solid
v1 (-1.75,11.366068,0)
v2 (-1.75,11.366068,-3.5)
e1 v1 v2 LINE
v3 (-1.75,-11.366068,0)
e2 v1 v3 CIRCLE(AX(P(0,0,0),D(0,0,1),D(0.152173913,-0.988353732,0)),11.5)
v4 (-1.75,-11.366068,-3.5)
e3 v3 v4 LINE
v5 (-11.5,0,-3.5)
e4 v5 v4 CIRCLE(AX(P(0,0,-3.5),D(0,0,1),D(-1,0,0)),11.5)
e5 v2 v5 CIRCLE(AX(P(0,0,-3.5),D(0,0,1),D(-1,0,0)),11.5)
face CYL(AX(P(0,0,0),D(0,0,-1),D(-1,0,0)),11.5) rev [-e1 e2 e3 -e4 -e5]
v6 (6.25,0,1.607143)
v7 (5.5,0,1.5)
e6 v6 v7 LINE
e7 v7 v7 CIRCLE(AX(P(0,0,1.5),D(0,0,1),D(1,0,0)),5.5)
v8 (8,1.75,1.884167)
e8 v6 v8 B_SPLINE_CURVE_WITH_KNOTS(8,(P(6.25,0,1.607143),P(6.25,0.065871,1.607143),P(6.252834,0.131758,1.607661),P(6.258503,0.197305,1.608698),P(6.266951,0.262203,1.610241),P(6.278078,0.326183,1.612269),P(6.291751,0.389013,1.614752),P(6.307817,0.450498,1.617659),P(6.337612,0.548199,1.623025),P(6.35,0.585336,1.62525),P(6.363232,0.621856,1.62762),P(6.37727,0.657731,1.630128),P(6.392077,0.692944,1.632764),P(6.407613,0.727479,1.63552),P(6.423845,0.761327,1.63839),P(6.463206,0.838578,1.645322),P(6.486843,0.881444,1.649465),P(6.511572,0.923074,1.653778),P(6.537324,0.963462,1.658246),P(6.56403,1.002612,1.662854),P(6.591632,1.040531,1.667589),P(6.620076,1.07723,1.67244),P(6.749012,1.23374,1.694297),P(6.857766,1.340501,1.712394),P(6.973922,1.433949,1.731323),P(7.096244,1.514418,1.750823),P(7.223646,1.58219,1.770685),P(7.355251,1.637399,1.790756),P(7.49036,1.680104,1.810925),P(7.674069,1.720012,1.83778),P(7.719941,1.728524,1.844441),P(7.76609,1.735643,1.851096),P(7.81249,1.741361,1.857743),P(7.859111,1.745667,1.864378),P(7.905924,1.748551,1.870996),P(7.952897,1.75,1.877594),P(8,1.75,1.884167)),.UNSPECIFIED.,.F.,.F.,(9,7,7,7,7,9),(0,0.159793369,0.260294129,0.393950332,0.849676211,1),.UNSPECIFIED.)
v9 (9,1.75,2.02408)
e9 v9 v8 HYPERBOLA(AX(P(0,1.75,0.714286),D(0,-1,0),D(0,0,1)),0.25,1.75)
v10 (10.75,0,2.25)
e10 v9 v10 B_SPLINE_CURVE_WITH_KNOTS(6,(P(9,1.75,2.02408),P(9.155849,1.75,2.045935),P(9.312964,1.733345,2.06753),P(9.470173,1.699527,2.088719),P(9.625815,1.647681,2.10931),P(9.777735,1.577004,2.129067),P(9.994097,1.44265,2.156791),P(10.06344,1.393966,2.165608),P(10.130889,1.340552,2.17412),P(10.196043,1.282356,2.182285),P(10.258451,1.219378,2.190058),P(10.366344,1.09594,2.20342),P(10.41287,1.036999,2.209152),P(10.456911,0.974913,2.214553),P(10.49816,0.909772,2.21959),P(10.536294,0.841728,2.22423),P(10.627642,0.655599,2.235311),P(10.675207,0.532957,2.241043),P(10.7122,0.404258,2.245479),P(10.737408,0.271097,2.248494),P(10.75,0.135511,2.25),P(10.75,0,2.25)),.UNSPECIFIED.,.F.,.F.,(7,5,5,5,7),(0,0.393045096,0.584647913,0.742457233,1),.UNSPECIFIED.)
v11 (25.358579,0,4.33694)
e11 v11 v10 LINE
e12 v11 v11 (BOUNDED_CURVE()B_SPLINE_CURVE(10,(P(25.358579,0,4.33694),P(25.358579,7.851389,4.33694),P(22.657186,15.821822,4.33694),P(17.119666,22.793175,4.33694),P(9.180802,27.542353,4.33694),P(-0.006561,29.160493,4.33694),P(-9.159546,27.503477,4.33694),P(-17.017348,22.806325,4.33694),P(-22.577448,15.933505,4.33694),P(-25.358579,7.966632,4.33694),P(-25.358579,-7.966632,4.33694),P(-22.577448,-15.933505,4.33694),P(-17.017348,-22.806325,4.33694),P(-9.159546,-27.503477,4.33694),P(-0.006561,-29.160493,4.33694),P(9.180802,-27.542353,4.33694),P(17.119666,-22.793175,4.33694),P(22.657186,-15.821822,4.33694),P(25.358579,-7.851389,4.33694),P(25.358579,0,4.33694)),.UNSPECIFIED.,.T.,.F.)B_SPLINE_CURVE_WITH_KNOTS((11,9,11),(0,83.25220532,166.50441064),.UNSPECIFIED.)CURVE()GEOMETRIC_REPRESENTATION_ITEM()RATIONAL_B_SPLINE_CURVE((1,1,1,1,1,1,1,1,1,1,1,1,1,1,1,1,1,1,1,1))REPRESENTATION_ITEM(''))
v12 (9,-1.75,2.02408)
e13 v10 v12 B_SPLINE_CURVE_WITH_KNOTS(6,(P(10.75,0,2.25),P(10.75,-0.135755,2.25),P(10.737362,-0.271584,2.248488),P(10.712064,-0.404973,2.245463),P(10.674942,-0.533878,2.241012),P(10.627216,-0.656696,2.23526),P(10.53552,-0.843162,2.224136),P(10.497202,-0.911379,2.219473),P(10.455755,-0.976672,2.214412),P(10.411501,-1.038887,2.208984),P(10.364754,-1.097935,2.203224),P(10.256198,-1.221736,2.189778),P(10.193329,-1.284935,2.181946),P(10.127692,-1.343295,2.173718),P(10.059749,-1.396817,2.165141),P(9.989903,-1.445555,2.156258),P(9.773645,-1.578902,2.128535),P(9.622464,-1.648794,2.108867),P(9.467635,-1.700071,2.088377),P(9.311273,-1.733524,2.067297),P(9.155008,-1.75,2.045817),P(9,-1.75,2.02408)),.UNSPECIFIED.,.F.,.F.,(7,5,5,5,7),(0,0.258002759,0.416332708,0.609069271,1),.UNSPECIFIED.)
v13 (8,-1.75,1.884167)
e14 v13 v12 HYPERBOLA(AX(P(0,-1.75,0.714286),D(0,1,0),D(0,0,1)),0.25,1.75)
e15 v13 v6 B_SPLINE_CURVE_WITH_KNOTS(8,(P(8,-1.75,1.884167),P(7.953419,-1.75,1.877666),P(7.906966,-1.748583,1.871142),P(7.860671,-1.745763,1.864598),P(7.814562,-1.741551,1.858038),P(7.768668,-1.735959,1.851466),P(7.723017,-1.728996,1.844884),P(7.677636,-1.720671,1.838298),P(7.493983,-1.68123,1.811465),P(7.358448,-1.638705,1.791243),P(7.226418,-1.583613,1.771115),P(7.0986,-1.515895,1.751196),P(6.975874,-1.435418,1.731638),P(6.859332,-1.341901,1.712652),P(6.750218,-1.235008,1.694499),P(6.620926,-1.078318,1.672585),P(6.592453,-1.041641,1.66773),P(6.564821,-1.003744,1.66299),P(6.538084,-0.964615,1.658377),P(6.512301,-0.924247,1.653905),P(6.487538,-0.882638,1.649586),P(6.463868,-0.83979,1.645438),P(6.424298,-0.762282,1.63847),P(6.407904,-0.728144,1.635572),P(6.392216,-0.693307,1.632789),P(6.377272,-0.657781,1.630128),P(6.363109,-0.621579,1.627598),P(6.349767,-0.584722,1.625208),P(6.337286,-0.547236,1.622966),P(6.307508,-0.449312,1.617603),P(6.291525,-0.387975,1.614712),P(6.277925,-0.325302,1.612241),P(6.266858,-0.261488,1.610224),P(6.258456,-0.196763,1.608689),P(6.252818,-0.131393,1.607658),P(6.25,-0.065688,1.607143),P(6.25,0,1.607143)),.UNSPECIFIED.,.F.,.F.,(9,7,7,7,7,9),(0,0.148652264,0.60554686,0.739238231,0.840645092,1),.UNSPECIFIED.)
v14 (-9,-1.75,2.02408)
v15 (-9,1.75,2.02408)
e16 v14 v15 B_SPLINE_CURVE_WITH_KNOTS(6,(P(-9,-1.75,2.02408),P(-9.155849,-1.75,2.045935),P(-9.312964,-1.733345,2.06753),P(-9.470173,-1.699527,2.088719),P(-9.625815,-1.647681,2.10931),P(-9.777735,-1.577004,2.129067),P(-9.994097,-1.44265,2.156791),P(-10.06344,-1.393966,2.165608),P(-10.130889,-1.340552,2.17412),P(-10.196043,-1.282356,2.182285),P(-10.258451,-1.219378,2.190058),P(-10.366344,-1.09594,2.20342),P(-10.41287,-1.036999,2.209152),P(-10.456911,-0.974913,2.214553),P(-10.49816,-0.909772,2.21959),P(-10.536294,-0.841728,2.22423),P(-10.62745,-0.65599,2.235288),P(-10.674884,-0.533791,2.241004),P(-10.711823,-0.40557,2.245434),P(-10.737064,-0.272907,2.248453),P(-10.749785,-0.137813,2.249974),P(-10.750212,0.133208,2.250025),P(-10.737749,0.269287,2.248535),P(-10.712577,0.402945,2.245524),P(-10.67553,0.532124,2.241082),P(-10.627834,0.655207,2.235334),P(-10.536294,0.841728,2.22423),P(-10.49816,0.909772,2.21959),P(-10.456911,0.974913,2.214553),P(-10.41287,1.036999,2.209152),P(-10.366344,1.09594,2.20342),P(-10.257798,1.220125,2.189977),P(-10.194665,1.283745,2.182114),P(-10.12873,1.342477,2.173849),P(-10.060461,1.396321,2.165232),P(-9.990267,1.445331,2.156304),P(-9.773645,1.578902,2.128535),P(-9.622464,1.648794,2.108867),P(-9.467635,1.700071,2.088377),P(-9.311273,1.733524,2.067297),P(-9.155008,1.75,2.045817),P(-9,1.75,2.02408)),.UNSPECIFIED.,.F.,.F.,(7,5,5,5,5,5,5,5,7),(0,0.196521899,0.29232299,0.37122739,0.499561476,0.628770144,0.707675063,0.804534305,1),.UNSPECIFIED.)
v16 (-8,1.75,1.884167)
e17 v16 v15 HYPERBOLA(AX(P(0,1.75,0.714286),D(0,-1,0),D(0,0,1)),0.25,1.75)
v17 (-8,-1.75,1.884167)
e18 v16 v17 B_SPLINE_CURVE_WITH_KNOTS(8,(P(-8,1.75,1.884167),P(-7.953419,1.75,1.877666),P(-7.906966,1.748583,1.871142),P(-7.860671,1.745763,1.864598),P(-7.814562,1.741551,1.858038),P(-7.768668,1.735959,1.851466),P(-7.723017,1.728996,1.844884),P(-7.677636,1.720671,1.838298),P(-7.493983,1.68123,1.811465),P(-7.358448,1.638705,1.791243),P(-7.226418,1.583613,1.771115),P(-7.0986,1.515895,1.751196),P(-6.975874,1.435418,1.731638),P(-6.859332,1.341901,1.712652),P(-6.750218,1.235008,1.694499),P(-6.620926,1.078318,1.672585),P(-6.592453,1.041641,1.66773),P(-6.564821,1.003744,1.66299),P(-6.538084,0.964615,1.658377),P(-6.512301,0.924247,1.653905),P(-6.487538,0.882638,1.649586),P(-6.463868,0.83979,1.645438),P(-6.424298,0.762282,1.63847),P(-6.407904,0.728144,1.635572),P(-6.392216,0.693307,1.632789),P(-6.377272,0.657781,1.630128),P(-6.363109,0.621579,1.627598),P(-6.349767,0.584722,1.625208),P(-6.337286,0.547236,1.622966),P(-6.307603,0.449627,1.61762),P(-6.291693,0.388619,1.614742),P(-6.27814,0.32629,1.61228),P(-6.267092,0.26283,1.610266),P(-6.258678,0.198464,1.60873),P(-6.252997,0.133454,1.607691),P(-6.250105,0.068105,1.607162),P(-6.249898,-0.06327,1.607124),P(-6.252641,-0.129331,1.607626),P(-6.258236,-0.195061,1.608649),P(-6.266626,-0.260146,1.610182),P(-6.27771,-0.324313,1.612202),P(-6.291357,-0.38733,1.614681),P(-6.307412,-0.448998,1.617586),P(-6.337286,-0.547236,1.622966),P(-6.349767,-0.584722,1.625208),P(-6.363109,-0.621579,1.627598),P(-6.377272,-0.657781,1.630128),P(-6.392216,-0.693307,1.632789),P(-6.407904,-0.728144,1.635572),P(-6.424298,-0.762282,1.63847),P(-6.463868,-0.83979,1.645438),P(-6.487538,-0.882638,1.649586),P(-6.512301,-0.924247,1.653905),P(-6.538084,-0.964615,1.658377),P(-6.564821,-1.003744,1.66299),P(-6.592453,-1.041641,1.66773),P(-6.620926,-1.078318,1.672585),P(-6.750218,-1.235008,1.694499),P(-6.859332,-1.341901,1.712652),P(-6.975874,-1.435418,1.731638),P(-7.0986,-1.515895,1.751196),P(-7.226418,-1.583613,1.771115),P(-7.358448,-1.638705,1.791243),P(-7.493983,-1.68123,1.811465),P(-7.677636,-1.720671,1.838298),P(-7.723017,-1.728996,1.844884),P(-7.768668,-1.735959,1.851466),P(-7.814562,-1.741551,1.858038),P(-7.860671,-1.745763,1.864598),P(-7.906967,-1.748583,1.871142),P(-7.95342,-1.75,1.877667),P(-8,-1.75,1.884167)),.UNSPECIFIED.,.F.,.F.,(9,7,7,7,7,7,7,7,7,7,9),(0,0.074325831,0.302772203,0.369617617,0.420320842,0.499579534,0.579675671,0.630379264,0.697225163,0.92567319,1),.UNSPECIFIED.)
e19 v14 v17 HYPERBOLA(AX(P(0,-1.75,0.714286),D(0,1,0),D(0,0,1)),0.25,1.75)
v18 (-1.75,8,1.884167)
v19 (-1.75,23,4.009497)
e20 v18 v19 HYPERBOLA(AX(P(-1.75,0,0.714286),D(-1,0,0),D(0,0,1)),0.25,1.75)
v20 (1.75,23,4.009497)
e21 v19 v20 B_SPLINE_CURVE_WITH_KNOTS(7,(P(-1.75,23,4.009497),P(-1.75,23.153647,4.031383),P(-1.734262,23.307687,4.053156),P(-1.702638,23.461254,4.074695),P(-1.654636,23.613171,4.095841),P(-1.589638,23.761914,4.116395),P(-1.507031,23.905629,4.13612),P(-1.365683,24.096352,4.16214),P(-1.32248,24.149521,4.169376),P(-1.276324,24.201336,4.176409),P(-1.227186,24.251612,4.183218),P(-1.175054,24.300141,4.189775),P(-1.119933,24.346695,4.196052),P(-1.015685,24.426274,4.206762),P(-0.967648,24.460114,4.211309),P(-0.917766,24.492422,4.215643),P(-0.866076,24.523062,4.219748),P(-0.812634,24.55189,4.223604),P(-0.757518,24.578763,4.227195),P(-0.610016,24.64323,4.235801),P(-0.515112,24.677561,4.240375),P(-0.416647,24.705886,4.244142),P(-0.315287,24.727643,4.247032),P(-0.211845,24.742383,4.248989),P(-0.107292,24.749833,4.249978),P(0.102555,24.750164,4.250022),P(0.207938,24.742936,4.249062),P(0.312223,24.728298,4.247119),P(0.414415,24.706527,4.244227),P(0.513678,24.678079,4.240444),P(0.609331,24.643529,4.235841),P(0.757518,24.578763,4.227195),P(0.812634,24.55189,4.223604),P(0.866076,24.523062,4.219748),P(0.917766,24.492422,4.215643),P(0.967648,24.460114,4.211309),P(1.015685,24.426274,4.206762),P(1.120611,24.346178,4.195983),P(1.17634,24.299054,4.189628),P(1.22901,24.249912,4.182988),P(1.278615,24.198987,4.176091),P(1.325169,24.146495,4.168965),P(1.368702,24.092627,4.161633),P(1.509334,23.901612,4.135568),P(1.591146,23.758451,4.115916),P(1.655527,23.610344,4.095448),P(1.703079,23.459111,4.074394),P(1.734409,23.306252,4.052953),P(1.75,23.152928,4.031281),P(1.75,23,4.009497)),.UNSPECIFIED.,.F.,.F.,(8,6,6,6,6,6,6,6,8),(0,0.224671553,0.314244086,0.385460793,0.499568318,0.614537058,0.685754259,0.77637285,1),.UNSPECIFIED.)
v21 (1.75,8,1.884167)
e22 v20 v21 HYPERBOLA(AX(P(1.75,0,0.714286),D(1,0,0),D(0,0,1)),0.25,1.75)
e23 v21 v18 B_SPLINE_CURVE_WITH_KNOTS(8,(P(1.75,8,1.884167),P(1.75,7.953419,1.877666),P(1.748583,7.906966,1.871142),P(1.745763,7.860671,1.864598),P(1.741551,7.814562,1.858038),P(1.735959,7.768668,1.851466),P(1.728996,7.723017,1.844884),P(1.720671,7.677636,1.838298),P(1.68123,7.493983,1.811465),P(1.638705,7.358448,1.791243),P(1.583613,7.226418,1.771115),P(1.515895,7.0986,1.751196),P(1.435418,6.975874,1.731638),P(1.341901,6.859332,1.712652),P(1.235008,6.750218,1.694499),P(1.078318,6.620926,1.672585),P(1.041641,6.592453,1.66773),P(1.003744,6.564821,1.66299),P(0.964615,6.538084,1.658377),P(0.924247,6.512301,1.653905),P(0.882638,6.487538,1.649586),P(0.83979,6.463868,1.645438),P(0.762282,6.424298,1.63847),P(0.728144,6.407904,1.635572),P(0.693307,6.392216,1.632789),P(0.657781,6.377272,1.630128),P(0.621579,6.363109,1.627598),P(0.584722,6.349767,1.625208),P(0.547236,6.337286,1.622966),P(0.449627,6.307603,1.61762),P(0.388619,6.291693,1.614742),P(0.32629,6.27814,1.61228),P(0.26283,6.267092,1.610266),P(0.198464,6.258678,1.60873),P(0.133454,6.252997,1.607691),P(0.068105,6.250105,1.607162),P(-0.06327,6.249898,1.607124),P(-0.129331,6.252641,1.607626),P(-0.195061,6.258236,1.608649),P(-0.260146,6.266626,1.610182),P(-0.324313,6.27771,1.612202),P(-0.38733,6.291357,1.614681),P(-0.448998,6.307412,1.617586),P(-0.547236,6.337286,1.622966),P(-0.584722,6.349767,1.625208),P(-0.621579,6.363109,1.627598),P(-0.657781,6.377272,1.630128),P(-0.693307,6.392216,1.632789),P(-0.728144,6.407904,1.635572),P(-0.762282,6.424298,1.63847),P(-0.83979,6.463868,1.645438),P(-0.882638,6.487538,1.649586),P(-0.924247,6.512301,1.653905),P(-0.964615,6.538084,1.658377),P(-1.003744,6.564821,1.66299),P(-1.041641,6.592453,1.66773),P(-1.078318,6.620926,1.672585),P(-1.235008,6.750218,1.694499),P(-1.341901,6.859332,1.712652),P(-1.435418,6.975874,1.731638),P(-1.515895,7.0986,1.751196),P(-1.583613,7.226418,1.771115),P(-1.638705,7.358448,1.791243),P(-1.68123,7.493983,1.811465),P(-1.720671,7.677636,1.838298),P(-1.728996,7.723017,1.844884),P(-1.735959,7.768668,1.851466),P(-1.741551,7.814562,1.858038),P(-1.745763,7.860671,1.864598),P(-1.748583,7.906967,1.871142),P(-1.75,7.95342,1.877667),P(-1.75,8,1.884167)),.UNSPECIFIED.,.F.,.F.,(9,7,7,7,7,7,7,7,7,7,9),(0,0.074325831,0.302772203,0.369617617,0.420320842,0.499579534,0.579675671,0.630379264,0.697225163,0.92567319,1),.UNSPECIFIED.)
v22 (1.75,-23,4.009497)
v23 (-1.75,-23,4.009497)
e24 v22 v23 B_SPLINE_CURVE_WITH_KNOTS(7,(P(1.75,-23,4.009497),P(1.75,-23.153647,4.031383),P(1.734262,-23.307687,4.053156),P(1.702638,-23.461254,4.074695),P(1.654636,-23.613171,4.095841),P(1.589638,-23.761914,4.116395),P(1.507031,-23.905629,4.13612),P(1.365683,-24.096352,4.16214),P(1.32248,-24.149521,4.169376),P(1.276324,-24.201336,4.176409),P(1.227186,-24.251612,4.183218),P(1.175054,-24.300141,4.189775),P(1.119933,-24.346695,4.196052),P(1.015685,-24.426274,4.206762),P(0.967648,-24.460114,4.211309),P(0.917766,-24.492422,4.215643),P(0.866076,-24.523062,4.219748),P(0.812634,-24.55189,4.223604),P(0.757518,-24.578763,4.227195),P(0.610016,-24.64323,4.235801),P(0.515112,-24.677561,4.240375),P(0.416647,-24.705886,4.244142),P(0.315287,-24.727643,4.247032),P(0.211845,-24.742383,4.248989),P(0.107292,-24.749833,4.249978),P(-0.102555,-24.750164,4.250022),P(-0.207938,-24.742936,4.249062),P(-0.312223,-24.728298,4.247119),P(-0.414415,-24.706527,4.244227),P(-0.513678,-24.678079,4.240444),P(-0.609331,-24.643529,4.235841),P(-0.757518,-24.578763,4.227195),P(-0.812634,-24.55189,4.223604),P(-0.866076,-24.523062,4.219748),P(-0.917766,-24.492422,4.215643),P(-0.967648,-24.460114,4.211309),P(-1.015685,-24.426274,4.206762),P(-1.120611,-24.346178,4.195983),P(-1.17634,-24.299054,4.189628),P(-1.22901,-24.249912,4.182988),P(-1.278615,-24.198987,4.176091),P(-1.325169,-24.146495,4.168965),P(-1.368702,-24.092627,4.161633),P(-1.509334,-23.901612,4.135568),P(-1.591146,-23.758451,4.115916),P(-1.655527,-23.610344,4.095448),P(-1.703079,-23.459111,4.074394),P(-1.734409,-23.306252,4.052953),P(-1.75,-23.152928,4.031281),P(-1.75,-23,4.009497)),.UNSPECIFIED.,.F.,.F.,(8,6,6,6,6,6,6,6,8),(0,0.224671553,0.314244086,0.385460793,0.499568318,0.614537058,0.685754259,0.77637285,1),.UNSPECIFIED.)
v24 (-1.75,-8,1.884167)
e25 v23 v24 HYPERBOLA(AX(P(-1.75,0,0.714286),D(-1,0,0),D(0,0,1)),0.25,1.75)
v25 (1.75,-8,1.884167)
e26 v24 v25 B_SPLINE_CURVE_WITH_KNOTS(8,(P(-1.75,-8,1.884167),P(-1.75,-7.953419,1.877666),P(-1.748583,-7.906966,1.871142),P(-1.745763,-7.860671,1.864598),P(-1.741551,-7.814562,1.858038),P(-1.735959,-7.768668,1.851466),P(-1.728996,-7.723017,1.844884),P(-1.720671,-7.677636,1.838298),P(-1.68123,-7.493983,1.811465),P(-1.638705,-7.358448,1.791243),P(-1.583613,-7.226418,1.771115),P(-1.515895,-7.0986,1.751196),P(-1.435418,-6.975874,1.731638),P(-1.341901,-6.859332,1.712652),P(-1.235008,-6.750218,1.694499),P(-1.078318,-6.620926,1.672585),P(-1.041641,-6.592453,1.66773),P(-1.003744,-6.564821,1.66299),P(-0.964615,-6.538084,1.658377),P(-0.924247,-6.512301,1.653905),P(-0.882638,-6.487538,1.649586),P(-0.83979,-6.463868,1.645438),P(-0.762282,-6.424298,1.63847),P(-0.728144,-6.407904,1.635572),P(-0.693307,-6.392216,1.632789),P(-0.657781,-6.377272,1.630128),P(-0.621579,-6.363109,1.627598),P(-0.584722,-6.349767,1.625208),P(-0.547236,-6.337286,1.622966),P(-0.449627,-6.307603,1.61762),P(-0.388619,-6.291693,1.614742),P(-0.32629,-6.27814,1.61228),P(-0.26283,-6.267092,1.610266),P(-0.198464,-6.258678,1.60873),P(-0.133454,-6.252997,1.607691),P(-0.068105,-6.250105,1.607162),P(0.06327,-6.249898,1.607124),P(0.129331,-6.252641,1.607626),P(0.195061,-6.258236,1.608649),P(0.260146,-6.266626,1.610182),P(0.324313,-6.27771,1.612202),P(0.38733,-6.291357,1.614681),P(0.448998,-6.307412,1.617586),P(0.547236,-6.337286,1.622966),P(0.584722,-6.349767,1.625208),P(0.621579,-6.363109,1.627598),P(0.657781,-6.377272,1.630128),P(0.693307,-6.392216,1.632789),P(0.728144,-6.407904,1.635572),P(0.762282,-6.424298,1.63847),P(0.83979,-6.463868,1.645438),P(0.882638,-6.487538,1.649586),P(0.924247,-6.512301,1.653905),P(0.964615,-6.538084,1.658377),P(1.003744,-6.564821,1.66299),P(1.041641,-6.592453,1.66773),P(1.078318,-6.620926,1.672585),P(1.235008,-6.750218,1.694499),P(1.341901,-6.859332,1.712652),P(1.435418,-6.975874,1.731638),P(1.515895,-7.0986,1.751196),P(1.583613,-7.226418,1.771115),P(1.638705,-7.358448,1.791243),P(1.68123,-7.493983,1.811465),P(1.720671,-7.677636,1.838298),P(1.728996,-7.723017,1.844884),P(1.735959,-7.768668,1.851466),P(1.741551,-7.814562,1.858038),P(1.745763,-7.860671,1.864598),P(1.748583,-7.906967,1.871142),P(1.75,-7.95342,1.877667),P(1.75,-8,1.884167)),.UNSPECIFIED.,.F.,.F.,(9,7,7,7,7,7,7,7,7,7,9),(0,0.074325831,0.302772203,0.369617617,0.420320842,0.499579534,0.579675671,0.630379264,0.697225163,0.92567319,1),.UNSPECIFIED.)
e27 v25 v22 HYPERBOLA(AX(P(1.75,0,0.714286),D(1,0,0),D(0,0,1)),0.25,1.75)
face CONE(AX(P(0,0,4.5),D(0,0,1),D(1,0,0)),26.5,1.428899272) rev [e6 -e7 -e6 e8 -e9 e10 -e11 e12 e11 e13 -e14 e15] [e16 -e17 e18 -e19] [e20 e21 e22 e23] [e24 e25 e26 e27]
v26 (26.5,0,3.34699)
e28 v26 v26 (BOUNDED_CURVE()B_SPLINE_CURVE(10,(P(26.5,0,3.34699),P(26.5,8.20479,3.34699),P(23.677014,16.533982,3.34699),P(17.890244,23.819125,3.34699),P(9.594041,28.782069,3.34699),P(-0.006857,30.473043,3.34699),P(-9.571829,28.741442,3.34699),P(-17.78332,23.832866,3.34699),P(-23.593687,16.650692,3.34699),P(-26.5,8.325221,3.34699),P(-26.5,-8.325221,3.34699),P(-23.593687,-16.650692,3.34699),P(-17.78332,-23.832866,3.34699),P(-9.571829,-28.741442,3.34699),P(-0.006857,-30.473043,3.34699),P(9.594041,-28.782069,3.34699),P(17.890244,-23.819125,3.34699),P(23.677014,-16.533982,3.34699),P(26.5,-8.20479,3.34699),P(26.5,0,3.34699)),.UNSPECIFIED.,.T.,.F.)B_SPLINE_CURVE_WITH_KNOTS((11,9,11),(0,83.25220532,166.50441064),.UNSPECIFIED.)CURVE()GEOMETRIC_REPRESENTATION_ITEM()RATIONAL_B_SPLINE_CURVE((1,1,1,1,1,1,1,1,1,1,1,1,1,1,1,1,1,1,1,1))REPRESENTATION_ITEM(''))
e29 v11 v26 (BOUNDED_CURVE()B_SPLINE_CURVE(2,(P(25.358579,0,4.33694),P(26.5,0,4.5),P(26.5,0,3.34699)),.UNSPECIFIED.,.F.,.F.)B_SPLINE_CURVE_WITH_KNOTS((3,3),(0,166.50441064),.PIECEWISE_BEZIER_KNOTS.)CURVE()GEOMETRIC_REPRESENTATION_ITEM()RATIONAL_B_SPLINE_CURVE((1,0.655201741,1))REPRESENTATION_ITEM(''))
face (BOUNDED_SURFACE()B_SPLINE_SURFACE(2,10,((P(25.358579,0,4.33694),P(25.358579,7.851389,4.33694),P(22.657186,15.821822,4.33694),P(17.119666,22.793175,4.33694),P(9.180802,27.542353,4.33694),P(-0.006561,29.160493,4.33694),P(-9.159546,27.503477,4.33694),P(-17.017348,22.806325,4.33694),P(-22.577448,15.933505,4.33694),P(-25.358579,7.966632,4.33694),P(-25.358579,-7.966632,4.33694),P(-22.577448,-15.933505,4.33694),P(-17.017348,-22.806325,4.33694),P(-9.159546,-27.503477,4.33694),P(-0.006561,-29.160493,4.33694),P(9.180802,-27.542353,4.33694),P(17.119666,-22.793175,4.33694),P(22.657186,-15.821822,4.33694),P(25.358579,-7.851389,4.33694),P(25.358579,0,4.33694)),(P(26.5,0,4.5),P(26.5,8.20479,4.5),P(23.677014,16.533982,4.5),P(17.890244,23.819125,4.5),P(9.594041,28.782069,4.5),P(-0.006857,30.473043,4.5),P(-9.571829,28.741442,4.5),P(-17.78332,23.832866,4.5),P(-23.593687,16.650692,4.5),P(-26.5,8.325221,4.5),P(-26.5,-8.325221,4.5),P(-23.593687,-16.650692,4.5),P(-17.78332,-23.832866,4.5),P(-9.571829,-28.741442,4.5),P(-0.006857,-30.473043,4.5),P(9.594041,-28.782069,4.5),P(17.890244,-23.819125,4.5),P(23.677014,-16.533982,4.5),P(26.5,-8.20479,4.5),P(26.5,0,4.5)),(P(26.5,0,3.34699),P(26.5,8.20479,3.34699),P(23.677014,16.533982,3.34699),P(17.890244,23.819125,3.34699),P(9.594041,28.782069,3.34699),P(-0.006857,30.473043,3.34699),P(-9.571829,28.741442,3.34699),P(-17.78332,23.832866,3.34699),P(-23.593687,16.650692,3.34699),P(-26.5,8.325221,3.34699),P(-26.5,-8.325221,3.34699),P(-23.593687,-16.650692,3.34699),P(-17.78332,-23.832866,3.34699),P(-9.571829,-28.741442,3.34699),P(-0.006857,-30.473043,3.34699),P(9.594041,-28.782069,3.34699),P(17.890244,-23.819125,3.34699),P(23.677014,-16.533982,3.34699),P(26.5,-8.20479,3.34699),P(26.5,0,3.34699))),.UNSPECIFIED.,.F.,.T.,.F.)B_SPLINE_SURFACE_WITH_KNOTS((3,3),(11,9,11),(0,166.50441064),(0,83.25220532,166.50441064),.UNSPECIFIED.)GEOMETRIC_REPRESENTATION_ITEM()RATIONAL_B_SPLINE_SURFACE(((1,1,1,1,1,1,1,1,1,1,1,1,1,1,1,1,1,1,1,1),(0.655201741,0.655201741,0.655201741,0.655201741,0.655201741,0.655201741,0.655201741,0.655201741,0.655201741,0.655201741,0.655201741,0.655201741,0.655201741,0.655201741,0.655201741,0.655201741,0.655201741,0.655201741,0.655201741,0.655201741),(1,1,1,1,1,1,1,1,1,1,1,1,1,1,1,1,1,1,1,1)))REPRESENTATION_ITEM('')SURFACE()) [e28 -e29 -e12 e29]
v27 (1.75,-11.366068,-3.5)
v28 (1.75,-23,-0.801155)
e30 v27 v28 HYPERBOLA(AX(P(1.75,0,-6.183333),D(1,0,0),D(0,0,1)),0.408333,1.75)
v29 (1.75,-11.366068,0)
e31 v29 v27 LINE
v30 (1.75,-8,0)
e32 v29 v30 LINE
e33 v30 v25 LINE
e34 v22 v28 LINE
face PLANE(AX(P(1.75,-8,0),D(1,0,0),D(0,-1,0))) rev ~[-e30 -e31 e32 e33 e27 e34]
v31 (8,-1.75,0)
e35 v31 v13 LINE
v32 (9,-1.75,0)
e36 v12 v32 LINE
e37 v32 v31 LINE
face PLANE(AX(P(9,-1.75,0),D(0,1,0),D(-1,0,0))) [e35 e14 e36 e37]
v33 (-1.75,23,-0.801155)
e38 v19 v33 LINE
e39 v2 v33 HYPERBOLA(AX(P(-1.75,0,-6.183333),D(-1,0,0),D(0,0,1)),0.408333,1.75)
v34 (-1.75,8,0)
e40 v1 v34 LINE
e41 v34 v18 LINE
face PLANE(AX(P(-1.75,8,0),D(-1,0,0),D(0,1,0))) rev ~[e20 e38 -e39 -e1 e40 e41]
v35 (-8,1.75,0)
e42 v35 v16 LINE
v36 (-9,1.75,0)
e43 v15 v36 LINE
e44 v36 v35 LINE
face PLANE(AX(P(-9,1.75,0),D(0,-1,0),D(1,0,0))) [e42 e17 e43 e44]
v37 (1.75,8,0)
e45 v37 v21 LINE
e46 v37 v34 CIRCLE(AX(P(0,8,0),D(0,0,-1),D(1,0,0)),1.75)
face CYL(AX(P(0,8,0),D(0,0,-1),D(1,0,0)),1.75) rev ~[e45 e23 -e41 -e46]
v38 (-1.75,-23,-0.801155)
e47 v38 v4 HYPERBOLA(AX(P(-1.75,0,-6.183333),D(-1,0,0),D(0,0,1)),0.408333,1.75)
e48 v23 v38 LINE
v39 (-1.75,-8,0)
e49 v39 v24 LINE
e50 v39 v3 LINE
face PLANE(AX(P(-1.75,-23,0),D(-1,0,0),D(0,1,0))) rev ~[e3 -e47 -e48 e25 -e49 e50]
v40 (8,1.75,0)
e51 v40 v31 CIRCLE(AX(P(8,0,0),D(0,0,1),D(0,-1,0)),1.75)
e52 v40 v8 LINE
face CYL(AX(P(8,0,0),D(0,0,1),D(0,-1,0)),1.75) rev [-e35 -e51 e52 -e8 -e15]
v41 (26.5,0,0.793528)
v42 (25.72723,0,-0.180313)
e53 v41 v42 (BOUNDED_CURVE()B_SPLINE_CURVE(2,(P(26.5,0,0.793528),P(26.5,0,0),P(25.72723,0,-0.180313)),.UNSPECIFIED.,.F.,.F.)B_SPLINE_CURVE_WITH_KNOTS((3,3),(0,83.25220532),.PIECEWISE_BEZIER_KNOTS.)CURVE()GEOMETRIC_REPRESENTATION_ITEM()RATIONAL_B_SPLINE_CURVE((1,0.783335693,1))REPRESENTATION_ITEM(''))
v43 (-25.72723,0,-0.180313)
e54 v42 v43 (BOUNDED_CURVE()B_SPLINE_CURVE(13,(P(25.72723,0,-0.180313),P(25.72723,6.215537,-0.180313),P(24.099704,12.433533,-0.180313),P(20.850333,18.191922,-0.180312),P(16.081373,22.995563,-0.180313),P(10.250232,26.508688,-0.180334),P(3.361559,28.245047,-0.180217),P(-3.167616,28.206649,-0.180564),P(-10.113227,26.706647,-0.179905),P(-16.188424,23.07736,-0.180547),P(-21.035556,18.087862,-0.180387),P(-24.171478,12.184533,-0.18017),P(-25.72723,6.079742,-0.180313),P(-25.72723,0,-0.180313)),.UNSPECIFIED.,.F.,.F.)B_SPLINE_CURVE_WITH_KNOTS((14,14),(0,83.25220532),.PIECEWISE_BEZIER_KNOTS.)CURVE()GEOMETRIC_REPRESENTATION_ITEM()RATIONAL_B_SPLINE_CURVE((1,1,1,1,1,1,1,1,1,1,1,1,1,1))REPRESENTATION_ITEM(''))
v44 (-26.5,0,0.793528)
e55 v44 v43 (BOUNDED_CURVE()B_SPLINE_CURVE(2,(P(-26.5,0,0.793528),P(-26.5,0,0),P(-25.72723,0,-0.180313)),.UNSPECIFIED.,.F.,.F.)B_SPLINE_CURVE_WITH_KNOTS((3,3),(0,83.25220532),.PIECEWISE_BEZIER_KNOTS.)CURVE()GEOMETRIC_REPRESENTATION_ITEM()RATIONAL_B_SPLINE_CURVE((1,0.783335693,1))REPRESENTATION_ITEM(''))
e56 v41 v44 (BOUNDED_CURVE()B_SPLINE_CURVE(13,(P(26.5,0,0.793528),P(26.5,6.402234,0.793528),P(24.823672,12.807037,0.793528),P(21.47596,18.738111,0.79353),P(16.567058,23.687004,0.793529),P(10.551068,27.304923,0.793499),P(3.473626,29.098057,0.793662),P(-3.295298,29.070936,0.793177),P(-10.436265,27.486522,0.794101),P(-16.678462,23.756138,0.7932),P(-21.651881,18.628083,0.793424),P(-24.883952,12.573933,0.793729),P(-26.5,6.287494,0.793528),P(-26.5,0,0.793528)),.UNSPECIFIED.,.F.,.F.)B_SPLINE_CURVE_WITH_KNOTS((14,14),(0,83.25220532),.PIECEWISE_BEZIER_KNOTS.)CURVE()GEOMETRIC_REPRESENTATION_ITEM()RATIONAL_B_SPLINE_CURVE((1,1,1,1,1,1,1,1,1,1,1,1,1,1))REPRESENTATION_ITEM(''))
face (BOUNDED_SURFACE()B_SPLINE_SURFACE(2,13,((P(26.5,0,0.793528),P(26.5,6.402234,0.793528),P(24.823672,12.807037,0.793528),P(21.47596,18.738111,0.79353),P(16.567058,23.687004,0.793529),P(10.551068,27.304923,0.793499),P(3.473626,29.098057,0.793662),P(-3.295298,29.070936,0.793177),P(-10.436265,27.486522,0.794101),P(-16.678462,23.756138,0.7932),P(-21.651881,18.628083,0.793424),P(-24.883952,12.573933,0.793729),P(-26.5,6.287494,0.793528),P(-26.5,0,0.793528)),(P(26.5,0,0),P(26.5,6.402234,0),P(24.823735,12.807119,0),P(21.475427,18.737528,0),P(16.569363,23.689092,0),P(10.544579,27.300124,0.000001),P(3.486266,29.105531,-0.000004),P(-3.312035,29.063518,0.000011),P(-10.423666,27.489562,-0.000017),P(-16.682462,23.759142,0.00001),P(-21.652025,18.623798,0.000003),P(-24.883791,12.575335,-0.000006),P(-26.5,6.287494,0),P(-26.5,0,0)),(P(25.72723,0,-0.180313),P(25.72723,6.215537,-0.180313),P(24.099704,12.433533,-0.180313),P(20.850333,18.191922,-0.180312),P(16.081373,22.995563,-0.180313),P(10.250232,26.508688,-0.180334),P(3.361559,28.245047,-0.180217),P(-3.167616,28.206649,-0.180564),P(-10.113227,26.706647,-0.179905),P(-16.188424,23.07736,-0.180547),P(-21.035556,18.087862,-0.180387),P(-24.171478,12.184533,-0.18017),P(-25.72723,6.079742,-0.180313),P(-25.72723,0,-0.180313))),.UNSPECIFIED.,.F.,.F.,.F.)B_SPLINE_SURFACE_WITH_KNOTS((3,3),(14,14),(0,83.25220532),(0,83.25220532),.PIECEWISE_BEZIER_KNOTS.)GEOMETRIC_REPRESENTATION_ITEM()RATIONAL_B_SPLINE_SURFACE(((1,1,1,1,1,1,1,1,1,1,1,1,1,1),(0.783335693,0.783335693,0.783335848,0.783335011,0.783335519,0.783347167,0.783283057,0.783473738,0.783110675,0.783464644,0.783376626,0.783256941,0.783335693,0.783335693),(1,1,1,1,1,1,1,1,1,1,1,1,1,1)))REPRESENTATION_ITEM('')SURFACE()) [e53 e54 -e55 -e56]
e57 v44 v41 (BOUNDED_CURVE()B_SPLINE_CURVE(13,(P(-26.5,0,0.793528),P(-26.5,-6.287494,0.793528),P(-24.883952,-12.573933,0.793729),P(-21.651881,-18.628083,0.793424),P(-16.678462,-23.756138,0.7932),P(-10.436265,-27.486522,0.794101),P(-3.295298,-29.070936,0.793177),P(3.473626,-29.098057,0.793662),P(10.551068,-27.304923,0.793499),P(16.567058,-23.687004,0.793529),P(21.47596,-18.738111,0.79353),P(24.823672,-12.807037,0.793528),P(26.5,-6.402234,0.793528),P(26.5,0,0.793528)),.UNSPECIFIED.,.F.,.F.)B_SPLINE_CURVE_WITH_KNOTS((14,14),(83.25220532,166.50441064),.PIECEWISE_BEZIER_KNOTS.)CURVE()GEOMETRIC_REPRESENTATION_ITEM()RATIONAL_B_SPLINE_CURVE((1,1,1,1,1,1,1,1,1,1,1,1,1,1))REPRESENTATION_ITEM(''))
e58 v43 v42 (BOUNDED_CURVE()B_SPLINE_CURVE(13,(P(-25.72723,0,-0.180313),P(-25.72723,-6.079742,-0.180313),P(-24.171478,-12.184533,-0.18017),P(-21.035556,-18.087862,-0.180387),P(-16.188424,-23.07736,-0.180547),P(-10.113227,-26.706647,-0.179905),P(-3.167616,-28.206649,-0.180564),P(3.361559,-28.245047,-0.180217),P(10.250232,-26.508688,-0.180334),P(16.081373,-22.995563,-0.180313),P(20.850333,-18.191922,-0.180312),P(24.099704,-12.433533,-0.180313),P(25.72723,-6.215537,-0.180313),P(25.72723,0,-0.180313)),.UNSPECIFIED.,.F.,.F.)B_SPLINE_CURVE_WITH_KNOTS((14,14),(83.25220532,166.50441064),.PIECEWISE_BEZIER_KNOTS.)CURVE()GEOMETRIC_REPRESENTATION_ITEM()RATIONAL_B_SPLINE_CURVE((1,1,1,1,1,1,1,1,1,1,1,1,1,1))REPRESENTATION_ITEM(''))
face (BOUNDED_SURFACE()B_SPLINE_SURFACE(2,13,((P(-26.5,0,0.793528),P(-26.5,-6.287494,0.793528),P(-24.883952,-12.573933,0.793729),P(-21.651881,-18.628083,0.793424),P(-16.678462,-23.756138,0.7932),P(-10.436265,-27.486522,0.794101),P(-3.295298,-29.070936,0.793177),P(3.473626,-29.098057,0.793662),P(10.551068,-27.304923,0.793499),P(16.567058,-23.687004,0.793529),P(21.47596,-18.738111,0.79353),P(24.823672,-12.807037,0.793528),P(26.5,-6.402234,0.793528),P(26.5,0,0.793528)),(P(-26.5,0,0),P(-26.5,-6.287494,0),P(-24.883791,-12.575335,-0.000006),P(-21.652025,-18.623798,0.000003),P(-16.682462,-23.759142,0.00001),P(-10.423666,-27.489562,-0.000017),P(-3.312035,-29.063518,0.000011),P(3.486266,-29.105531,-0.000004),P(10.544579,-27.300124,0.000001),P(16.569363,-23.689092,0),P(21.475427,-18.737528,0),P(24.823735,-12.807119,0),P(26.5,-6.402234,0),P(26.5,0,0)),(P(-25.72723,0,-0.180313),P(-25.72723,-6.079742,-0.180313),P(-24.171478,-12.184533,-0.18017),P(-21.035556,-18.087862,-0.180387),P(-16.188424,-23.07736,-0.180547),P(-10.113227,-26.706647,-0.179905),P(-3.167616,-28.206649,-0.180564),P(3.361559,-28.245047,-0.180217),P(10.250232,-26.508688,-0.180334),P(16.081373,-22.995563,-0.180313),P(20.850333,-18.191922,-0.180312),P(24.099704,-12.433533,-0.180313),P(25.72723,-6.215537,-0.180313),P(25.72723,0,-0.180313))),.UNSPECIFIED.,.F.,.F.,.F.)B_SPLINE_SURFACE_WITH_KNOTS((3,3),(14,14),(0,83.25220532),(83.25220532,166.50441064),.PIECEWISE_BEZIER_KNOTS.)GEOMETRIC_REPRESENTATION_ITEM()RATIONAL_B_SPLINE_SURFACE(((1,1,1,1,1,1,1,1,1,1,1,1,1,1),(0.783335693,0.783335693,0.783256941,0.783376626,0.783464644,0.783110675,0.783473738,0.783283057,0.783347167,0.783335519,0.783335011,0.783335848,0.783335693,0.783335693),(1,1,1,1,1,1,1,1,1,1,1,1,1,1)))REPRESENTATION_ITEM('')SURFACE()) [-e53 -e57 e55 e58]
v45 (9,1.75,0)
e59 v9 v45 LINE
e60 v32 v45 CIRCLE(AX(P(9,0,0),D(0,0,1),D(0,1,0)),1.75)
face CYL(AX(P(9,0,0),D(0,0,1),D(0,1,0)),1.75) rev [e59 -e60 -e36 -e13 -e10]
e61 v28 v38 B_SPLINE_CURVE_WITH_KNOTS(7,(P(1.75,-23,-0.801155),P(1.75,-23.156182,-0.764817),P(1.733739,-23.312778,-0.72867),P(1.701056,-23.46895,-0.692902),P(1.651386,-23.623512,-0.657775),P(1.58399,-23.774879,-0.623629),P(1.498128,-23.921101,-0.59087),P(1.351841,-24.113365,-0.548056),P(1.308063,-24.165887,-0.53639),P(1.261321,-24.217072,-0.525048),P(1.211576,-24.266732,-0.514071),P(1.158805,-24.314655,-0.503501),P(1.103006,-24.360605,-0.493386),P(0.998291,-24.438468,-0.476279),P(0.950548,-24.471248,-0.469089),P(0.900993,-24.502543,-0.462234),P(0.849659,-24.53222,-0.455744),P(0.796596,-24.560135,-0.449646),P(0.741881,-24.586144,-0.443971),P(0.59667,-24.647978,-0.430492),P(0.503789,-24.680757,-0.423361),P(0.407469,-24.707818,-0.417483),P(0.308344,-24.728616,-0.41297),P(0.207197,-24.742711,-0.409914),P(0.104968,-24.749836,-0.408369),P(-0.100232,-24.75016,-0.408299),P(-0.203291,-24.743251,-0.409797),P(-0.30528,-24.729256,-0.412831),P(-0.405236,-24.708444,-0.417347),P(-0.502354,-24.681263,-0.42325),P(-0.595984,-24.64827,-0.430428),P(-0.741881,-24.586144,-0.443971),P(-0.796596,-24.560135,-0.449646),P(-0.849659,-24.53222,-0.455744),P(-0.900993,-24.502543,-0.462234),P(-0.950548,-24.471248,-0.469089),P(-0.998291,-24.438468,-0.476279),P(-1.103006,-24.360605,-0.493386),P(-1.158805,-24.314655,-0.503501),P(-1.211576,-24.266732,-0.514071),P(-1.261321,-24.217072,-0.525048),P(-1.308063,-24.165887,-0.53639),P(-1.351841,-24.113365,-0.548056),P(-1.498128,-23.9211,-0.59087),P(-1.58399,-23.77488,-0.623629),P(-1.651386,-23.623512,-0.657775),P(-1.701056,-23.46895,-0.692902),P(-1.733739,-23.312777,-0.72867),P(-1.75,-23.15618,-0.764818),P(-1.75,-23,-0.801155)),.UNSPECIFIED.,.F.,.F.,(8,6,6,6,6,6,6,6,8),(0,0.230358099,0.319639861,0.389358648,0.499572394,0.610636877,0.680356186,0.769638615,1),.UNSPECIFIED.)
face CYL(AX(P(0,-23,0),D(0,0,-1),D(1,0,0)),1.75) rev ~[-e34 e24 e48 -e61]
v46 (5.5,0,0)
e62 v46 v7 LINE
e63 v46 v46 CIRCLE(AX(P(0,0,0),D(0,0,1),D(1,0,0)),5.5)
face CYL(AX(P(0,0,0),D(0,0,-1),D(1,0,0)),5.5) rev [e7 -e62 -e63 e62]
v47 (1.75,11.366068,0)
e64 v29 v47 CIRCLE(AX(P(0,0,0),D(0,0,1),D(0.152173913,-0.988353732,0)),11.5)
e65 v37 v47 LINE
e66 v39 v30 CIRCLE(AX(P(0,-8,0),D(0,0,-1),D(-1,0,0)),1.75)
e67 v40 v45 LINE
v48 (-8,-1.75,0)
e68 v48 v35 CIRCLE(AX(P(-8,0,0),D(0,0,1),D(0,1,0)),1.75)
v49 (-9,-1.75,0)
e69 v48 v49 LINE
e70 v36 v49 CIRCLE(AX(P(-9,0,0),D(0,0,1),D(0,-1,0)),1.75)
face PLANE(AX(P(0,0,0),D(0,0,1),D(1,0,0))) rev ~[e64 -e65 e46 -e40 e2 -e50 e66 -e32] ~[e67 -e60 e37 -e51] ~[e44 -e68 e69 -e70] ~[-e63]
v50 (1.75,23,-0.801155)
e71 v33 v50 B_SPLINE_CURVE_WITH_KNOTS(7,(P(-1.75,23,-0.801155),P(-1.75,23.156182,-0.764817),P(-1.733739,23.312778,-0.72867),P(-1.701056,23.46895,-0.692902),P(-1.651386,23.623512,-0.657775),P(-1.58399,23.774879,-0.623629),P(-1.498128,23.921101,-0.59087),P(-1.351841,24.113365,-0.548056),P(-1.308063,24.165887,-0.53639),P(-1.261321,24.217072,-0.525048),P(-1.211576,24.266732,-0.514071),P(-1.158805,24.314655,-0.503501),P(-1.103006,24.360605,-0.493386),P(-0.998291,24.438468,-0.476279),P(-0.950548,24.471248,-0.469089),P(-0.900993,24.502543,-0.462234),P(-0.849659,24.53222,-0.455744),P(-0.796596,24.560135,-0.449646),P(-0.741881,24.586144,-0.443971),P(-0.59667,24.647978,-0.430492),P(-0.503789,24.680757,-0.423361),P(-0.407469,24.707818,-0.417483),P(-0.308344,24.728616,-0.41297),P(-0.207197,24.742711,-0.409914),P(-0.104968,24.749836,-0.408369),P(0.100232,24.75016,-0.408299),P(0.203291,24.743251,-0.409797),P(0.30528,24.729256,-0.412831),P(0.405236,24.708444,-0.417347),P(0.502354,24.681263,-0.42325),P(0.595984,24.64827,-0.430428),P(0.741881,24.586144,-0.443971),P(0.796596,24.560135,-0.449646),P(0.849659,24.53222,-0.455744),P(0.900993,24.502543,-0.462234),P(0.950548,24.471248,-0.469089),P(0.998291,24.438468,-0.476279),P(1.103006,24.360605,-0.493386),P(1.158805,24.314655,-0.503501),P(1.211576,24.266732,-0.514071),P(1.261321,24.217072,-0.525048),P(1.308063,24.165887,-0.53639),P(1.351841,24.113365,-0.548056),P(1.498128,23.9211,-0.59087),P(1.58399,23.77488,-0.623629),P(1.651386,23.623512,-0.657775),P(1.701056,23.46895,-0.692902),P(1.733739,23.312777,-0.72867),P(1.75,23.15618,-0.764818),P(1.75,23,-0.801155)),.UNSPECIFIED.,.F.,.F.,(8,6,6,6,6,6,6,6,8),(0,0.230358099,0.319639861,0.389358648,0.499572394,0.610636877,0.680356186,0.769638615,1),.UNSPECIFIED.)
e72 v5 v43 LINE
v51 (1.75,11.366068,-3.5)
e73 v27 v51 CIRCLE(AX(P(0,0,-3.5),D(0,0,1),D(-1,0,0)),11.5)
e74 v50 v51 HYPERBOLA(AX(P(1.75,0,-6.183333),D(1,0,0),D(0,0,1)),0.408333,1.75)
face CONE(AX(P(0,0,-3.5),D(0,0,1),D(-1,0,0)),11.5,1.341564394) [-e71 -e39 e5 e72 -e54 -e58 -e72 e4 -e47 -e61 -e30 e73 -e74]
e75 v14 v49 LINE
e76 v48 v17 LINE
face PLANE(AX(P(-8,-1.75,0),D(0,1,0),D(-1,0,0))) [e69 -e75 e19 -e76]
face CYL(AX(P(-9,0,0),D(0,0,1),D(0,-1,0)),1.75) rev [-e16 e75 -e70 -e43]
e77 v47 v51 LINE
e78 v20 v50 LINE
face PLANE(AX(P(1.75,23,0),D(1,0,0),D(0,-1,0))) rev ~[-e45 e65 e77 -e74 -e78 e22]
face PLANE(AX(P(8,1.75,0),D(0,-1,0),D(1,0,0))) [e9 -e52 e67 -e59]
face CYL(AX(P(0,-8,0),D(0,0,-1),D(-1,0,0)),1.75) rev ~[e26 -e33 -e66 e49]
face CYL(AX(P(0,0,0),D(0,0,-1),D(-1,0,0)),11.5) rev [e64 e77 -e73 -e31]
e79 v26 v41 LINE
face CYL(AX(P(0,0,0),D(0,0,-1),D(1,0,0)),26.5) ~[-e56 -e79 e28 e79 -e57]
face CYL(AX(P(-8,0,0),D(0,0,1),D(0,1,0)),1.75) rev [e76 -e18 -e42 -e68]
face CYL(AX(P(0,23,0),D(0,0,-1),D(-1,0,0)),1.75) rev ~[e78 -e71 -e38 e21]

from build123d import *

# Parameters (mm, degrees)
SKETCH1_R           = 26.5
SKETCH1_R_2         = 5.5
BOSS_EXTRUDE1_DEPTH = 1.5
HOLES_DEPTH         = 38.7458607
FILLET2_R           = 1
HOLES_PTR_COUNT     = 2


with BuildPart() as part:
    # Sketch1 → Boss-Extrude1 (new body)
    with BuildSketch(Plane.XY):
        Circle(SKETCH1_R)
        Circle(SKETCH1_R_2, mode=Mode.SUBTRACT)
    extrude(amount=BOSS_EXTRUDE1_DEPTH)

    # Sketch8 → Revolve2 (revolve)
    with BuildSketch(Plane(origin=(0, 0, 0), x_dir=(1, 0, 0), z_dir=(0, 1, 0))):
        Polygon((-11.5, 0), (-11.5, 3.5), (-26.5, 0), align=None)
        Polygon((5.5, -1.5), (26.5, -1.5), (26.5, -4.5), align=None)
    revolve(axis=Axis((0, 0, 0), (0, 0, 1)))

    # Sketch7 → holes (cut, symmetric)
    with BuildSketch(Plane.XY):
        with BuildLine():
            Line((1.75, -8), (1.75, -23))
            ThreePointArc((1.75, -23), (0, -24.75), (-1.75, -23))
            Line((-1.75, -23), (-1.75, -8))
            ThreePointArc((-1.75, -8), (0, -6.25), (1.75, -8))
        make_face()
        with BuildLine():
            Line((8, 1.75), (9, 1.75))
            ThreePointArc((9, 1.75), (10.75, 0), (9, -1.75))
            Line((9, -1.75), (8, -1.75))
            ThreePointArc((8, -1.75), (6.25, 0), (8, 1.75))
        make_face()
    holes = extrude(amount=HOLES_DEPTH, both=True, mode=Mode.SUBTRACT)

    # Fillet2
    fillet2_edges = [part.edges().sort_by_distance(p)[0] for p in [
        (0, 26.5, 0),
        (-26.5, 0, 4.5),
    ]]
    fillet(fillet2_edges, radius=FILLET2_R)

    # holes-ptr: holes ×2 about axis
    holes_ptr_axis = Axis((0, 0, 0), (0, 0, 1))
    for i in range(1, HOLES_PTR_COUNT):
        add(holes.rotate(holes_ptr_axis, i * 360 / HOLES_PTR_COUNT), mode=Mode.SUBTRACT)


solid = part.part
